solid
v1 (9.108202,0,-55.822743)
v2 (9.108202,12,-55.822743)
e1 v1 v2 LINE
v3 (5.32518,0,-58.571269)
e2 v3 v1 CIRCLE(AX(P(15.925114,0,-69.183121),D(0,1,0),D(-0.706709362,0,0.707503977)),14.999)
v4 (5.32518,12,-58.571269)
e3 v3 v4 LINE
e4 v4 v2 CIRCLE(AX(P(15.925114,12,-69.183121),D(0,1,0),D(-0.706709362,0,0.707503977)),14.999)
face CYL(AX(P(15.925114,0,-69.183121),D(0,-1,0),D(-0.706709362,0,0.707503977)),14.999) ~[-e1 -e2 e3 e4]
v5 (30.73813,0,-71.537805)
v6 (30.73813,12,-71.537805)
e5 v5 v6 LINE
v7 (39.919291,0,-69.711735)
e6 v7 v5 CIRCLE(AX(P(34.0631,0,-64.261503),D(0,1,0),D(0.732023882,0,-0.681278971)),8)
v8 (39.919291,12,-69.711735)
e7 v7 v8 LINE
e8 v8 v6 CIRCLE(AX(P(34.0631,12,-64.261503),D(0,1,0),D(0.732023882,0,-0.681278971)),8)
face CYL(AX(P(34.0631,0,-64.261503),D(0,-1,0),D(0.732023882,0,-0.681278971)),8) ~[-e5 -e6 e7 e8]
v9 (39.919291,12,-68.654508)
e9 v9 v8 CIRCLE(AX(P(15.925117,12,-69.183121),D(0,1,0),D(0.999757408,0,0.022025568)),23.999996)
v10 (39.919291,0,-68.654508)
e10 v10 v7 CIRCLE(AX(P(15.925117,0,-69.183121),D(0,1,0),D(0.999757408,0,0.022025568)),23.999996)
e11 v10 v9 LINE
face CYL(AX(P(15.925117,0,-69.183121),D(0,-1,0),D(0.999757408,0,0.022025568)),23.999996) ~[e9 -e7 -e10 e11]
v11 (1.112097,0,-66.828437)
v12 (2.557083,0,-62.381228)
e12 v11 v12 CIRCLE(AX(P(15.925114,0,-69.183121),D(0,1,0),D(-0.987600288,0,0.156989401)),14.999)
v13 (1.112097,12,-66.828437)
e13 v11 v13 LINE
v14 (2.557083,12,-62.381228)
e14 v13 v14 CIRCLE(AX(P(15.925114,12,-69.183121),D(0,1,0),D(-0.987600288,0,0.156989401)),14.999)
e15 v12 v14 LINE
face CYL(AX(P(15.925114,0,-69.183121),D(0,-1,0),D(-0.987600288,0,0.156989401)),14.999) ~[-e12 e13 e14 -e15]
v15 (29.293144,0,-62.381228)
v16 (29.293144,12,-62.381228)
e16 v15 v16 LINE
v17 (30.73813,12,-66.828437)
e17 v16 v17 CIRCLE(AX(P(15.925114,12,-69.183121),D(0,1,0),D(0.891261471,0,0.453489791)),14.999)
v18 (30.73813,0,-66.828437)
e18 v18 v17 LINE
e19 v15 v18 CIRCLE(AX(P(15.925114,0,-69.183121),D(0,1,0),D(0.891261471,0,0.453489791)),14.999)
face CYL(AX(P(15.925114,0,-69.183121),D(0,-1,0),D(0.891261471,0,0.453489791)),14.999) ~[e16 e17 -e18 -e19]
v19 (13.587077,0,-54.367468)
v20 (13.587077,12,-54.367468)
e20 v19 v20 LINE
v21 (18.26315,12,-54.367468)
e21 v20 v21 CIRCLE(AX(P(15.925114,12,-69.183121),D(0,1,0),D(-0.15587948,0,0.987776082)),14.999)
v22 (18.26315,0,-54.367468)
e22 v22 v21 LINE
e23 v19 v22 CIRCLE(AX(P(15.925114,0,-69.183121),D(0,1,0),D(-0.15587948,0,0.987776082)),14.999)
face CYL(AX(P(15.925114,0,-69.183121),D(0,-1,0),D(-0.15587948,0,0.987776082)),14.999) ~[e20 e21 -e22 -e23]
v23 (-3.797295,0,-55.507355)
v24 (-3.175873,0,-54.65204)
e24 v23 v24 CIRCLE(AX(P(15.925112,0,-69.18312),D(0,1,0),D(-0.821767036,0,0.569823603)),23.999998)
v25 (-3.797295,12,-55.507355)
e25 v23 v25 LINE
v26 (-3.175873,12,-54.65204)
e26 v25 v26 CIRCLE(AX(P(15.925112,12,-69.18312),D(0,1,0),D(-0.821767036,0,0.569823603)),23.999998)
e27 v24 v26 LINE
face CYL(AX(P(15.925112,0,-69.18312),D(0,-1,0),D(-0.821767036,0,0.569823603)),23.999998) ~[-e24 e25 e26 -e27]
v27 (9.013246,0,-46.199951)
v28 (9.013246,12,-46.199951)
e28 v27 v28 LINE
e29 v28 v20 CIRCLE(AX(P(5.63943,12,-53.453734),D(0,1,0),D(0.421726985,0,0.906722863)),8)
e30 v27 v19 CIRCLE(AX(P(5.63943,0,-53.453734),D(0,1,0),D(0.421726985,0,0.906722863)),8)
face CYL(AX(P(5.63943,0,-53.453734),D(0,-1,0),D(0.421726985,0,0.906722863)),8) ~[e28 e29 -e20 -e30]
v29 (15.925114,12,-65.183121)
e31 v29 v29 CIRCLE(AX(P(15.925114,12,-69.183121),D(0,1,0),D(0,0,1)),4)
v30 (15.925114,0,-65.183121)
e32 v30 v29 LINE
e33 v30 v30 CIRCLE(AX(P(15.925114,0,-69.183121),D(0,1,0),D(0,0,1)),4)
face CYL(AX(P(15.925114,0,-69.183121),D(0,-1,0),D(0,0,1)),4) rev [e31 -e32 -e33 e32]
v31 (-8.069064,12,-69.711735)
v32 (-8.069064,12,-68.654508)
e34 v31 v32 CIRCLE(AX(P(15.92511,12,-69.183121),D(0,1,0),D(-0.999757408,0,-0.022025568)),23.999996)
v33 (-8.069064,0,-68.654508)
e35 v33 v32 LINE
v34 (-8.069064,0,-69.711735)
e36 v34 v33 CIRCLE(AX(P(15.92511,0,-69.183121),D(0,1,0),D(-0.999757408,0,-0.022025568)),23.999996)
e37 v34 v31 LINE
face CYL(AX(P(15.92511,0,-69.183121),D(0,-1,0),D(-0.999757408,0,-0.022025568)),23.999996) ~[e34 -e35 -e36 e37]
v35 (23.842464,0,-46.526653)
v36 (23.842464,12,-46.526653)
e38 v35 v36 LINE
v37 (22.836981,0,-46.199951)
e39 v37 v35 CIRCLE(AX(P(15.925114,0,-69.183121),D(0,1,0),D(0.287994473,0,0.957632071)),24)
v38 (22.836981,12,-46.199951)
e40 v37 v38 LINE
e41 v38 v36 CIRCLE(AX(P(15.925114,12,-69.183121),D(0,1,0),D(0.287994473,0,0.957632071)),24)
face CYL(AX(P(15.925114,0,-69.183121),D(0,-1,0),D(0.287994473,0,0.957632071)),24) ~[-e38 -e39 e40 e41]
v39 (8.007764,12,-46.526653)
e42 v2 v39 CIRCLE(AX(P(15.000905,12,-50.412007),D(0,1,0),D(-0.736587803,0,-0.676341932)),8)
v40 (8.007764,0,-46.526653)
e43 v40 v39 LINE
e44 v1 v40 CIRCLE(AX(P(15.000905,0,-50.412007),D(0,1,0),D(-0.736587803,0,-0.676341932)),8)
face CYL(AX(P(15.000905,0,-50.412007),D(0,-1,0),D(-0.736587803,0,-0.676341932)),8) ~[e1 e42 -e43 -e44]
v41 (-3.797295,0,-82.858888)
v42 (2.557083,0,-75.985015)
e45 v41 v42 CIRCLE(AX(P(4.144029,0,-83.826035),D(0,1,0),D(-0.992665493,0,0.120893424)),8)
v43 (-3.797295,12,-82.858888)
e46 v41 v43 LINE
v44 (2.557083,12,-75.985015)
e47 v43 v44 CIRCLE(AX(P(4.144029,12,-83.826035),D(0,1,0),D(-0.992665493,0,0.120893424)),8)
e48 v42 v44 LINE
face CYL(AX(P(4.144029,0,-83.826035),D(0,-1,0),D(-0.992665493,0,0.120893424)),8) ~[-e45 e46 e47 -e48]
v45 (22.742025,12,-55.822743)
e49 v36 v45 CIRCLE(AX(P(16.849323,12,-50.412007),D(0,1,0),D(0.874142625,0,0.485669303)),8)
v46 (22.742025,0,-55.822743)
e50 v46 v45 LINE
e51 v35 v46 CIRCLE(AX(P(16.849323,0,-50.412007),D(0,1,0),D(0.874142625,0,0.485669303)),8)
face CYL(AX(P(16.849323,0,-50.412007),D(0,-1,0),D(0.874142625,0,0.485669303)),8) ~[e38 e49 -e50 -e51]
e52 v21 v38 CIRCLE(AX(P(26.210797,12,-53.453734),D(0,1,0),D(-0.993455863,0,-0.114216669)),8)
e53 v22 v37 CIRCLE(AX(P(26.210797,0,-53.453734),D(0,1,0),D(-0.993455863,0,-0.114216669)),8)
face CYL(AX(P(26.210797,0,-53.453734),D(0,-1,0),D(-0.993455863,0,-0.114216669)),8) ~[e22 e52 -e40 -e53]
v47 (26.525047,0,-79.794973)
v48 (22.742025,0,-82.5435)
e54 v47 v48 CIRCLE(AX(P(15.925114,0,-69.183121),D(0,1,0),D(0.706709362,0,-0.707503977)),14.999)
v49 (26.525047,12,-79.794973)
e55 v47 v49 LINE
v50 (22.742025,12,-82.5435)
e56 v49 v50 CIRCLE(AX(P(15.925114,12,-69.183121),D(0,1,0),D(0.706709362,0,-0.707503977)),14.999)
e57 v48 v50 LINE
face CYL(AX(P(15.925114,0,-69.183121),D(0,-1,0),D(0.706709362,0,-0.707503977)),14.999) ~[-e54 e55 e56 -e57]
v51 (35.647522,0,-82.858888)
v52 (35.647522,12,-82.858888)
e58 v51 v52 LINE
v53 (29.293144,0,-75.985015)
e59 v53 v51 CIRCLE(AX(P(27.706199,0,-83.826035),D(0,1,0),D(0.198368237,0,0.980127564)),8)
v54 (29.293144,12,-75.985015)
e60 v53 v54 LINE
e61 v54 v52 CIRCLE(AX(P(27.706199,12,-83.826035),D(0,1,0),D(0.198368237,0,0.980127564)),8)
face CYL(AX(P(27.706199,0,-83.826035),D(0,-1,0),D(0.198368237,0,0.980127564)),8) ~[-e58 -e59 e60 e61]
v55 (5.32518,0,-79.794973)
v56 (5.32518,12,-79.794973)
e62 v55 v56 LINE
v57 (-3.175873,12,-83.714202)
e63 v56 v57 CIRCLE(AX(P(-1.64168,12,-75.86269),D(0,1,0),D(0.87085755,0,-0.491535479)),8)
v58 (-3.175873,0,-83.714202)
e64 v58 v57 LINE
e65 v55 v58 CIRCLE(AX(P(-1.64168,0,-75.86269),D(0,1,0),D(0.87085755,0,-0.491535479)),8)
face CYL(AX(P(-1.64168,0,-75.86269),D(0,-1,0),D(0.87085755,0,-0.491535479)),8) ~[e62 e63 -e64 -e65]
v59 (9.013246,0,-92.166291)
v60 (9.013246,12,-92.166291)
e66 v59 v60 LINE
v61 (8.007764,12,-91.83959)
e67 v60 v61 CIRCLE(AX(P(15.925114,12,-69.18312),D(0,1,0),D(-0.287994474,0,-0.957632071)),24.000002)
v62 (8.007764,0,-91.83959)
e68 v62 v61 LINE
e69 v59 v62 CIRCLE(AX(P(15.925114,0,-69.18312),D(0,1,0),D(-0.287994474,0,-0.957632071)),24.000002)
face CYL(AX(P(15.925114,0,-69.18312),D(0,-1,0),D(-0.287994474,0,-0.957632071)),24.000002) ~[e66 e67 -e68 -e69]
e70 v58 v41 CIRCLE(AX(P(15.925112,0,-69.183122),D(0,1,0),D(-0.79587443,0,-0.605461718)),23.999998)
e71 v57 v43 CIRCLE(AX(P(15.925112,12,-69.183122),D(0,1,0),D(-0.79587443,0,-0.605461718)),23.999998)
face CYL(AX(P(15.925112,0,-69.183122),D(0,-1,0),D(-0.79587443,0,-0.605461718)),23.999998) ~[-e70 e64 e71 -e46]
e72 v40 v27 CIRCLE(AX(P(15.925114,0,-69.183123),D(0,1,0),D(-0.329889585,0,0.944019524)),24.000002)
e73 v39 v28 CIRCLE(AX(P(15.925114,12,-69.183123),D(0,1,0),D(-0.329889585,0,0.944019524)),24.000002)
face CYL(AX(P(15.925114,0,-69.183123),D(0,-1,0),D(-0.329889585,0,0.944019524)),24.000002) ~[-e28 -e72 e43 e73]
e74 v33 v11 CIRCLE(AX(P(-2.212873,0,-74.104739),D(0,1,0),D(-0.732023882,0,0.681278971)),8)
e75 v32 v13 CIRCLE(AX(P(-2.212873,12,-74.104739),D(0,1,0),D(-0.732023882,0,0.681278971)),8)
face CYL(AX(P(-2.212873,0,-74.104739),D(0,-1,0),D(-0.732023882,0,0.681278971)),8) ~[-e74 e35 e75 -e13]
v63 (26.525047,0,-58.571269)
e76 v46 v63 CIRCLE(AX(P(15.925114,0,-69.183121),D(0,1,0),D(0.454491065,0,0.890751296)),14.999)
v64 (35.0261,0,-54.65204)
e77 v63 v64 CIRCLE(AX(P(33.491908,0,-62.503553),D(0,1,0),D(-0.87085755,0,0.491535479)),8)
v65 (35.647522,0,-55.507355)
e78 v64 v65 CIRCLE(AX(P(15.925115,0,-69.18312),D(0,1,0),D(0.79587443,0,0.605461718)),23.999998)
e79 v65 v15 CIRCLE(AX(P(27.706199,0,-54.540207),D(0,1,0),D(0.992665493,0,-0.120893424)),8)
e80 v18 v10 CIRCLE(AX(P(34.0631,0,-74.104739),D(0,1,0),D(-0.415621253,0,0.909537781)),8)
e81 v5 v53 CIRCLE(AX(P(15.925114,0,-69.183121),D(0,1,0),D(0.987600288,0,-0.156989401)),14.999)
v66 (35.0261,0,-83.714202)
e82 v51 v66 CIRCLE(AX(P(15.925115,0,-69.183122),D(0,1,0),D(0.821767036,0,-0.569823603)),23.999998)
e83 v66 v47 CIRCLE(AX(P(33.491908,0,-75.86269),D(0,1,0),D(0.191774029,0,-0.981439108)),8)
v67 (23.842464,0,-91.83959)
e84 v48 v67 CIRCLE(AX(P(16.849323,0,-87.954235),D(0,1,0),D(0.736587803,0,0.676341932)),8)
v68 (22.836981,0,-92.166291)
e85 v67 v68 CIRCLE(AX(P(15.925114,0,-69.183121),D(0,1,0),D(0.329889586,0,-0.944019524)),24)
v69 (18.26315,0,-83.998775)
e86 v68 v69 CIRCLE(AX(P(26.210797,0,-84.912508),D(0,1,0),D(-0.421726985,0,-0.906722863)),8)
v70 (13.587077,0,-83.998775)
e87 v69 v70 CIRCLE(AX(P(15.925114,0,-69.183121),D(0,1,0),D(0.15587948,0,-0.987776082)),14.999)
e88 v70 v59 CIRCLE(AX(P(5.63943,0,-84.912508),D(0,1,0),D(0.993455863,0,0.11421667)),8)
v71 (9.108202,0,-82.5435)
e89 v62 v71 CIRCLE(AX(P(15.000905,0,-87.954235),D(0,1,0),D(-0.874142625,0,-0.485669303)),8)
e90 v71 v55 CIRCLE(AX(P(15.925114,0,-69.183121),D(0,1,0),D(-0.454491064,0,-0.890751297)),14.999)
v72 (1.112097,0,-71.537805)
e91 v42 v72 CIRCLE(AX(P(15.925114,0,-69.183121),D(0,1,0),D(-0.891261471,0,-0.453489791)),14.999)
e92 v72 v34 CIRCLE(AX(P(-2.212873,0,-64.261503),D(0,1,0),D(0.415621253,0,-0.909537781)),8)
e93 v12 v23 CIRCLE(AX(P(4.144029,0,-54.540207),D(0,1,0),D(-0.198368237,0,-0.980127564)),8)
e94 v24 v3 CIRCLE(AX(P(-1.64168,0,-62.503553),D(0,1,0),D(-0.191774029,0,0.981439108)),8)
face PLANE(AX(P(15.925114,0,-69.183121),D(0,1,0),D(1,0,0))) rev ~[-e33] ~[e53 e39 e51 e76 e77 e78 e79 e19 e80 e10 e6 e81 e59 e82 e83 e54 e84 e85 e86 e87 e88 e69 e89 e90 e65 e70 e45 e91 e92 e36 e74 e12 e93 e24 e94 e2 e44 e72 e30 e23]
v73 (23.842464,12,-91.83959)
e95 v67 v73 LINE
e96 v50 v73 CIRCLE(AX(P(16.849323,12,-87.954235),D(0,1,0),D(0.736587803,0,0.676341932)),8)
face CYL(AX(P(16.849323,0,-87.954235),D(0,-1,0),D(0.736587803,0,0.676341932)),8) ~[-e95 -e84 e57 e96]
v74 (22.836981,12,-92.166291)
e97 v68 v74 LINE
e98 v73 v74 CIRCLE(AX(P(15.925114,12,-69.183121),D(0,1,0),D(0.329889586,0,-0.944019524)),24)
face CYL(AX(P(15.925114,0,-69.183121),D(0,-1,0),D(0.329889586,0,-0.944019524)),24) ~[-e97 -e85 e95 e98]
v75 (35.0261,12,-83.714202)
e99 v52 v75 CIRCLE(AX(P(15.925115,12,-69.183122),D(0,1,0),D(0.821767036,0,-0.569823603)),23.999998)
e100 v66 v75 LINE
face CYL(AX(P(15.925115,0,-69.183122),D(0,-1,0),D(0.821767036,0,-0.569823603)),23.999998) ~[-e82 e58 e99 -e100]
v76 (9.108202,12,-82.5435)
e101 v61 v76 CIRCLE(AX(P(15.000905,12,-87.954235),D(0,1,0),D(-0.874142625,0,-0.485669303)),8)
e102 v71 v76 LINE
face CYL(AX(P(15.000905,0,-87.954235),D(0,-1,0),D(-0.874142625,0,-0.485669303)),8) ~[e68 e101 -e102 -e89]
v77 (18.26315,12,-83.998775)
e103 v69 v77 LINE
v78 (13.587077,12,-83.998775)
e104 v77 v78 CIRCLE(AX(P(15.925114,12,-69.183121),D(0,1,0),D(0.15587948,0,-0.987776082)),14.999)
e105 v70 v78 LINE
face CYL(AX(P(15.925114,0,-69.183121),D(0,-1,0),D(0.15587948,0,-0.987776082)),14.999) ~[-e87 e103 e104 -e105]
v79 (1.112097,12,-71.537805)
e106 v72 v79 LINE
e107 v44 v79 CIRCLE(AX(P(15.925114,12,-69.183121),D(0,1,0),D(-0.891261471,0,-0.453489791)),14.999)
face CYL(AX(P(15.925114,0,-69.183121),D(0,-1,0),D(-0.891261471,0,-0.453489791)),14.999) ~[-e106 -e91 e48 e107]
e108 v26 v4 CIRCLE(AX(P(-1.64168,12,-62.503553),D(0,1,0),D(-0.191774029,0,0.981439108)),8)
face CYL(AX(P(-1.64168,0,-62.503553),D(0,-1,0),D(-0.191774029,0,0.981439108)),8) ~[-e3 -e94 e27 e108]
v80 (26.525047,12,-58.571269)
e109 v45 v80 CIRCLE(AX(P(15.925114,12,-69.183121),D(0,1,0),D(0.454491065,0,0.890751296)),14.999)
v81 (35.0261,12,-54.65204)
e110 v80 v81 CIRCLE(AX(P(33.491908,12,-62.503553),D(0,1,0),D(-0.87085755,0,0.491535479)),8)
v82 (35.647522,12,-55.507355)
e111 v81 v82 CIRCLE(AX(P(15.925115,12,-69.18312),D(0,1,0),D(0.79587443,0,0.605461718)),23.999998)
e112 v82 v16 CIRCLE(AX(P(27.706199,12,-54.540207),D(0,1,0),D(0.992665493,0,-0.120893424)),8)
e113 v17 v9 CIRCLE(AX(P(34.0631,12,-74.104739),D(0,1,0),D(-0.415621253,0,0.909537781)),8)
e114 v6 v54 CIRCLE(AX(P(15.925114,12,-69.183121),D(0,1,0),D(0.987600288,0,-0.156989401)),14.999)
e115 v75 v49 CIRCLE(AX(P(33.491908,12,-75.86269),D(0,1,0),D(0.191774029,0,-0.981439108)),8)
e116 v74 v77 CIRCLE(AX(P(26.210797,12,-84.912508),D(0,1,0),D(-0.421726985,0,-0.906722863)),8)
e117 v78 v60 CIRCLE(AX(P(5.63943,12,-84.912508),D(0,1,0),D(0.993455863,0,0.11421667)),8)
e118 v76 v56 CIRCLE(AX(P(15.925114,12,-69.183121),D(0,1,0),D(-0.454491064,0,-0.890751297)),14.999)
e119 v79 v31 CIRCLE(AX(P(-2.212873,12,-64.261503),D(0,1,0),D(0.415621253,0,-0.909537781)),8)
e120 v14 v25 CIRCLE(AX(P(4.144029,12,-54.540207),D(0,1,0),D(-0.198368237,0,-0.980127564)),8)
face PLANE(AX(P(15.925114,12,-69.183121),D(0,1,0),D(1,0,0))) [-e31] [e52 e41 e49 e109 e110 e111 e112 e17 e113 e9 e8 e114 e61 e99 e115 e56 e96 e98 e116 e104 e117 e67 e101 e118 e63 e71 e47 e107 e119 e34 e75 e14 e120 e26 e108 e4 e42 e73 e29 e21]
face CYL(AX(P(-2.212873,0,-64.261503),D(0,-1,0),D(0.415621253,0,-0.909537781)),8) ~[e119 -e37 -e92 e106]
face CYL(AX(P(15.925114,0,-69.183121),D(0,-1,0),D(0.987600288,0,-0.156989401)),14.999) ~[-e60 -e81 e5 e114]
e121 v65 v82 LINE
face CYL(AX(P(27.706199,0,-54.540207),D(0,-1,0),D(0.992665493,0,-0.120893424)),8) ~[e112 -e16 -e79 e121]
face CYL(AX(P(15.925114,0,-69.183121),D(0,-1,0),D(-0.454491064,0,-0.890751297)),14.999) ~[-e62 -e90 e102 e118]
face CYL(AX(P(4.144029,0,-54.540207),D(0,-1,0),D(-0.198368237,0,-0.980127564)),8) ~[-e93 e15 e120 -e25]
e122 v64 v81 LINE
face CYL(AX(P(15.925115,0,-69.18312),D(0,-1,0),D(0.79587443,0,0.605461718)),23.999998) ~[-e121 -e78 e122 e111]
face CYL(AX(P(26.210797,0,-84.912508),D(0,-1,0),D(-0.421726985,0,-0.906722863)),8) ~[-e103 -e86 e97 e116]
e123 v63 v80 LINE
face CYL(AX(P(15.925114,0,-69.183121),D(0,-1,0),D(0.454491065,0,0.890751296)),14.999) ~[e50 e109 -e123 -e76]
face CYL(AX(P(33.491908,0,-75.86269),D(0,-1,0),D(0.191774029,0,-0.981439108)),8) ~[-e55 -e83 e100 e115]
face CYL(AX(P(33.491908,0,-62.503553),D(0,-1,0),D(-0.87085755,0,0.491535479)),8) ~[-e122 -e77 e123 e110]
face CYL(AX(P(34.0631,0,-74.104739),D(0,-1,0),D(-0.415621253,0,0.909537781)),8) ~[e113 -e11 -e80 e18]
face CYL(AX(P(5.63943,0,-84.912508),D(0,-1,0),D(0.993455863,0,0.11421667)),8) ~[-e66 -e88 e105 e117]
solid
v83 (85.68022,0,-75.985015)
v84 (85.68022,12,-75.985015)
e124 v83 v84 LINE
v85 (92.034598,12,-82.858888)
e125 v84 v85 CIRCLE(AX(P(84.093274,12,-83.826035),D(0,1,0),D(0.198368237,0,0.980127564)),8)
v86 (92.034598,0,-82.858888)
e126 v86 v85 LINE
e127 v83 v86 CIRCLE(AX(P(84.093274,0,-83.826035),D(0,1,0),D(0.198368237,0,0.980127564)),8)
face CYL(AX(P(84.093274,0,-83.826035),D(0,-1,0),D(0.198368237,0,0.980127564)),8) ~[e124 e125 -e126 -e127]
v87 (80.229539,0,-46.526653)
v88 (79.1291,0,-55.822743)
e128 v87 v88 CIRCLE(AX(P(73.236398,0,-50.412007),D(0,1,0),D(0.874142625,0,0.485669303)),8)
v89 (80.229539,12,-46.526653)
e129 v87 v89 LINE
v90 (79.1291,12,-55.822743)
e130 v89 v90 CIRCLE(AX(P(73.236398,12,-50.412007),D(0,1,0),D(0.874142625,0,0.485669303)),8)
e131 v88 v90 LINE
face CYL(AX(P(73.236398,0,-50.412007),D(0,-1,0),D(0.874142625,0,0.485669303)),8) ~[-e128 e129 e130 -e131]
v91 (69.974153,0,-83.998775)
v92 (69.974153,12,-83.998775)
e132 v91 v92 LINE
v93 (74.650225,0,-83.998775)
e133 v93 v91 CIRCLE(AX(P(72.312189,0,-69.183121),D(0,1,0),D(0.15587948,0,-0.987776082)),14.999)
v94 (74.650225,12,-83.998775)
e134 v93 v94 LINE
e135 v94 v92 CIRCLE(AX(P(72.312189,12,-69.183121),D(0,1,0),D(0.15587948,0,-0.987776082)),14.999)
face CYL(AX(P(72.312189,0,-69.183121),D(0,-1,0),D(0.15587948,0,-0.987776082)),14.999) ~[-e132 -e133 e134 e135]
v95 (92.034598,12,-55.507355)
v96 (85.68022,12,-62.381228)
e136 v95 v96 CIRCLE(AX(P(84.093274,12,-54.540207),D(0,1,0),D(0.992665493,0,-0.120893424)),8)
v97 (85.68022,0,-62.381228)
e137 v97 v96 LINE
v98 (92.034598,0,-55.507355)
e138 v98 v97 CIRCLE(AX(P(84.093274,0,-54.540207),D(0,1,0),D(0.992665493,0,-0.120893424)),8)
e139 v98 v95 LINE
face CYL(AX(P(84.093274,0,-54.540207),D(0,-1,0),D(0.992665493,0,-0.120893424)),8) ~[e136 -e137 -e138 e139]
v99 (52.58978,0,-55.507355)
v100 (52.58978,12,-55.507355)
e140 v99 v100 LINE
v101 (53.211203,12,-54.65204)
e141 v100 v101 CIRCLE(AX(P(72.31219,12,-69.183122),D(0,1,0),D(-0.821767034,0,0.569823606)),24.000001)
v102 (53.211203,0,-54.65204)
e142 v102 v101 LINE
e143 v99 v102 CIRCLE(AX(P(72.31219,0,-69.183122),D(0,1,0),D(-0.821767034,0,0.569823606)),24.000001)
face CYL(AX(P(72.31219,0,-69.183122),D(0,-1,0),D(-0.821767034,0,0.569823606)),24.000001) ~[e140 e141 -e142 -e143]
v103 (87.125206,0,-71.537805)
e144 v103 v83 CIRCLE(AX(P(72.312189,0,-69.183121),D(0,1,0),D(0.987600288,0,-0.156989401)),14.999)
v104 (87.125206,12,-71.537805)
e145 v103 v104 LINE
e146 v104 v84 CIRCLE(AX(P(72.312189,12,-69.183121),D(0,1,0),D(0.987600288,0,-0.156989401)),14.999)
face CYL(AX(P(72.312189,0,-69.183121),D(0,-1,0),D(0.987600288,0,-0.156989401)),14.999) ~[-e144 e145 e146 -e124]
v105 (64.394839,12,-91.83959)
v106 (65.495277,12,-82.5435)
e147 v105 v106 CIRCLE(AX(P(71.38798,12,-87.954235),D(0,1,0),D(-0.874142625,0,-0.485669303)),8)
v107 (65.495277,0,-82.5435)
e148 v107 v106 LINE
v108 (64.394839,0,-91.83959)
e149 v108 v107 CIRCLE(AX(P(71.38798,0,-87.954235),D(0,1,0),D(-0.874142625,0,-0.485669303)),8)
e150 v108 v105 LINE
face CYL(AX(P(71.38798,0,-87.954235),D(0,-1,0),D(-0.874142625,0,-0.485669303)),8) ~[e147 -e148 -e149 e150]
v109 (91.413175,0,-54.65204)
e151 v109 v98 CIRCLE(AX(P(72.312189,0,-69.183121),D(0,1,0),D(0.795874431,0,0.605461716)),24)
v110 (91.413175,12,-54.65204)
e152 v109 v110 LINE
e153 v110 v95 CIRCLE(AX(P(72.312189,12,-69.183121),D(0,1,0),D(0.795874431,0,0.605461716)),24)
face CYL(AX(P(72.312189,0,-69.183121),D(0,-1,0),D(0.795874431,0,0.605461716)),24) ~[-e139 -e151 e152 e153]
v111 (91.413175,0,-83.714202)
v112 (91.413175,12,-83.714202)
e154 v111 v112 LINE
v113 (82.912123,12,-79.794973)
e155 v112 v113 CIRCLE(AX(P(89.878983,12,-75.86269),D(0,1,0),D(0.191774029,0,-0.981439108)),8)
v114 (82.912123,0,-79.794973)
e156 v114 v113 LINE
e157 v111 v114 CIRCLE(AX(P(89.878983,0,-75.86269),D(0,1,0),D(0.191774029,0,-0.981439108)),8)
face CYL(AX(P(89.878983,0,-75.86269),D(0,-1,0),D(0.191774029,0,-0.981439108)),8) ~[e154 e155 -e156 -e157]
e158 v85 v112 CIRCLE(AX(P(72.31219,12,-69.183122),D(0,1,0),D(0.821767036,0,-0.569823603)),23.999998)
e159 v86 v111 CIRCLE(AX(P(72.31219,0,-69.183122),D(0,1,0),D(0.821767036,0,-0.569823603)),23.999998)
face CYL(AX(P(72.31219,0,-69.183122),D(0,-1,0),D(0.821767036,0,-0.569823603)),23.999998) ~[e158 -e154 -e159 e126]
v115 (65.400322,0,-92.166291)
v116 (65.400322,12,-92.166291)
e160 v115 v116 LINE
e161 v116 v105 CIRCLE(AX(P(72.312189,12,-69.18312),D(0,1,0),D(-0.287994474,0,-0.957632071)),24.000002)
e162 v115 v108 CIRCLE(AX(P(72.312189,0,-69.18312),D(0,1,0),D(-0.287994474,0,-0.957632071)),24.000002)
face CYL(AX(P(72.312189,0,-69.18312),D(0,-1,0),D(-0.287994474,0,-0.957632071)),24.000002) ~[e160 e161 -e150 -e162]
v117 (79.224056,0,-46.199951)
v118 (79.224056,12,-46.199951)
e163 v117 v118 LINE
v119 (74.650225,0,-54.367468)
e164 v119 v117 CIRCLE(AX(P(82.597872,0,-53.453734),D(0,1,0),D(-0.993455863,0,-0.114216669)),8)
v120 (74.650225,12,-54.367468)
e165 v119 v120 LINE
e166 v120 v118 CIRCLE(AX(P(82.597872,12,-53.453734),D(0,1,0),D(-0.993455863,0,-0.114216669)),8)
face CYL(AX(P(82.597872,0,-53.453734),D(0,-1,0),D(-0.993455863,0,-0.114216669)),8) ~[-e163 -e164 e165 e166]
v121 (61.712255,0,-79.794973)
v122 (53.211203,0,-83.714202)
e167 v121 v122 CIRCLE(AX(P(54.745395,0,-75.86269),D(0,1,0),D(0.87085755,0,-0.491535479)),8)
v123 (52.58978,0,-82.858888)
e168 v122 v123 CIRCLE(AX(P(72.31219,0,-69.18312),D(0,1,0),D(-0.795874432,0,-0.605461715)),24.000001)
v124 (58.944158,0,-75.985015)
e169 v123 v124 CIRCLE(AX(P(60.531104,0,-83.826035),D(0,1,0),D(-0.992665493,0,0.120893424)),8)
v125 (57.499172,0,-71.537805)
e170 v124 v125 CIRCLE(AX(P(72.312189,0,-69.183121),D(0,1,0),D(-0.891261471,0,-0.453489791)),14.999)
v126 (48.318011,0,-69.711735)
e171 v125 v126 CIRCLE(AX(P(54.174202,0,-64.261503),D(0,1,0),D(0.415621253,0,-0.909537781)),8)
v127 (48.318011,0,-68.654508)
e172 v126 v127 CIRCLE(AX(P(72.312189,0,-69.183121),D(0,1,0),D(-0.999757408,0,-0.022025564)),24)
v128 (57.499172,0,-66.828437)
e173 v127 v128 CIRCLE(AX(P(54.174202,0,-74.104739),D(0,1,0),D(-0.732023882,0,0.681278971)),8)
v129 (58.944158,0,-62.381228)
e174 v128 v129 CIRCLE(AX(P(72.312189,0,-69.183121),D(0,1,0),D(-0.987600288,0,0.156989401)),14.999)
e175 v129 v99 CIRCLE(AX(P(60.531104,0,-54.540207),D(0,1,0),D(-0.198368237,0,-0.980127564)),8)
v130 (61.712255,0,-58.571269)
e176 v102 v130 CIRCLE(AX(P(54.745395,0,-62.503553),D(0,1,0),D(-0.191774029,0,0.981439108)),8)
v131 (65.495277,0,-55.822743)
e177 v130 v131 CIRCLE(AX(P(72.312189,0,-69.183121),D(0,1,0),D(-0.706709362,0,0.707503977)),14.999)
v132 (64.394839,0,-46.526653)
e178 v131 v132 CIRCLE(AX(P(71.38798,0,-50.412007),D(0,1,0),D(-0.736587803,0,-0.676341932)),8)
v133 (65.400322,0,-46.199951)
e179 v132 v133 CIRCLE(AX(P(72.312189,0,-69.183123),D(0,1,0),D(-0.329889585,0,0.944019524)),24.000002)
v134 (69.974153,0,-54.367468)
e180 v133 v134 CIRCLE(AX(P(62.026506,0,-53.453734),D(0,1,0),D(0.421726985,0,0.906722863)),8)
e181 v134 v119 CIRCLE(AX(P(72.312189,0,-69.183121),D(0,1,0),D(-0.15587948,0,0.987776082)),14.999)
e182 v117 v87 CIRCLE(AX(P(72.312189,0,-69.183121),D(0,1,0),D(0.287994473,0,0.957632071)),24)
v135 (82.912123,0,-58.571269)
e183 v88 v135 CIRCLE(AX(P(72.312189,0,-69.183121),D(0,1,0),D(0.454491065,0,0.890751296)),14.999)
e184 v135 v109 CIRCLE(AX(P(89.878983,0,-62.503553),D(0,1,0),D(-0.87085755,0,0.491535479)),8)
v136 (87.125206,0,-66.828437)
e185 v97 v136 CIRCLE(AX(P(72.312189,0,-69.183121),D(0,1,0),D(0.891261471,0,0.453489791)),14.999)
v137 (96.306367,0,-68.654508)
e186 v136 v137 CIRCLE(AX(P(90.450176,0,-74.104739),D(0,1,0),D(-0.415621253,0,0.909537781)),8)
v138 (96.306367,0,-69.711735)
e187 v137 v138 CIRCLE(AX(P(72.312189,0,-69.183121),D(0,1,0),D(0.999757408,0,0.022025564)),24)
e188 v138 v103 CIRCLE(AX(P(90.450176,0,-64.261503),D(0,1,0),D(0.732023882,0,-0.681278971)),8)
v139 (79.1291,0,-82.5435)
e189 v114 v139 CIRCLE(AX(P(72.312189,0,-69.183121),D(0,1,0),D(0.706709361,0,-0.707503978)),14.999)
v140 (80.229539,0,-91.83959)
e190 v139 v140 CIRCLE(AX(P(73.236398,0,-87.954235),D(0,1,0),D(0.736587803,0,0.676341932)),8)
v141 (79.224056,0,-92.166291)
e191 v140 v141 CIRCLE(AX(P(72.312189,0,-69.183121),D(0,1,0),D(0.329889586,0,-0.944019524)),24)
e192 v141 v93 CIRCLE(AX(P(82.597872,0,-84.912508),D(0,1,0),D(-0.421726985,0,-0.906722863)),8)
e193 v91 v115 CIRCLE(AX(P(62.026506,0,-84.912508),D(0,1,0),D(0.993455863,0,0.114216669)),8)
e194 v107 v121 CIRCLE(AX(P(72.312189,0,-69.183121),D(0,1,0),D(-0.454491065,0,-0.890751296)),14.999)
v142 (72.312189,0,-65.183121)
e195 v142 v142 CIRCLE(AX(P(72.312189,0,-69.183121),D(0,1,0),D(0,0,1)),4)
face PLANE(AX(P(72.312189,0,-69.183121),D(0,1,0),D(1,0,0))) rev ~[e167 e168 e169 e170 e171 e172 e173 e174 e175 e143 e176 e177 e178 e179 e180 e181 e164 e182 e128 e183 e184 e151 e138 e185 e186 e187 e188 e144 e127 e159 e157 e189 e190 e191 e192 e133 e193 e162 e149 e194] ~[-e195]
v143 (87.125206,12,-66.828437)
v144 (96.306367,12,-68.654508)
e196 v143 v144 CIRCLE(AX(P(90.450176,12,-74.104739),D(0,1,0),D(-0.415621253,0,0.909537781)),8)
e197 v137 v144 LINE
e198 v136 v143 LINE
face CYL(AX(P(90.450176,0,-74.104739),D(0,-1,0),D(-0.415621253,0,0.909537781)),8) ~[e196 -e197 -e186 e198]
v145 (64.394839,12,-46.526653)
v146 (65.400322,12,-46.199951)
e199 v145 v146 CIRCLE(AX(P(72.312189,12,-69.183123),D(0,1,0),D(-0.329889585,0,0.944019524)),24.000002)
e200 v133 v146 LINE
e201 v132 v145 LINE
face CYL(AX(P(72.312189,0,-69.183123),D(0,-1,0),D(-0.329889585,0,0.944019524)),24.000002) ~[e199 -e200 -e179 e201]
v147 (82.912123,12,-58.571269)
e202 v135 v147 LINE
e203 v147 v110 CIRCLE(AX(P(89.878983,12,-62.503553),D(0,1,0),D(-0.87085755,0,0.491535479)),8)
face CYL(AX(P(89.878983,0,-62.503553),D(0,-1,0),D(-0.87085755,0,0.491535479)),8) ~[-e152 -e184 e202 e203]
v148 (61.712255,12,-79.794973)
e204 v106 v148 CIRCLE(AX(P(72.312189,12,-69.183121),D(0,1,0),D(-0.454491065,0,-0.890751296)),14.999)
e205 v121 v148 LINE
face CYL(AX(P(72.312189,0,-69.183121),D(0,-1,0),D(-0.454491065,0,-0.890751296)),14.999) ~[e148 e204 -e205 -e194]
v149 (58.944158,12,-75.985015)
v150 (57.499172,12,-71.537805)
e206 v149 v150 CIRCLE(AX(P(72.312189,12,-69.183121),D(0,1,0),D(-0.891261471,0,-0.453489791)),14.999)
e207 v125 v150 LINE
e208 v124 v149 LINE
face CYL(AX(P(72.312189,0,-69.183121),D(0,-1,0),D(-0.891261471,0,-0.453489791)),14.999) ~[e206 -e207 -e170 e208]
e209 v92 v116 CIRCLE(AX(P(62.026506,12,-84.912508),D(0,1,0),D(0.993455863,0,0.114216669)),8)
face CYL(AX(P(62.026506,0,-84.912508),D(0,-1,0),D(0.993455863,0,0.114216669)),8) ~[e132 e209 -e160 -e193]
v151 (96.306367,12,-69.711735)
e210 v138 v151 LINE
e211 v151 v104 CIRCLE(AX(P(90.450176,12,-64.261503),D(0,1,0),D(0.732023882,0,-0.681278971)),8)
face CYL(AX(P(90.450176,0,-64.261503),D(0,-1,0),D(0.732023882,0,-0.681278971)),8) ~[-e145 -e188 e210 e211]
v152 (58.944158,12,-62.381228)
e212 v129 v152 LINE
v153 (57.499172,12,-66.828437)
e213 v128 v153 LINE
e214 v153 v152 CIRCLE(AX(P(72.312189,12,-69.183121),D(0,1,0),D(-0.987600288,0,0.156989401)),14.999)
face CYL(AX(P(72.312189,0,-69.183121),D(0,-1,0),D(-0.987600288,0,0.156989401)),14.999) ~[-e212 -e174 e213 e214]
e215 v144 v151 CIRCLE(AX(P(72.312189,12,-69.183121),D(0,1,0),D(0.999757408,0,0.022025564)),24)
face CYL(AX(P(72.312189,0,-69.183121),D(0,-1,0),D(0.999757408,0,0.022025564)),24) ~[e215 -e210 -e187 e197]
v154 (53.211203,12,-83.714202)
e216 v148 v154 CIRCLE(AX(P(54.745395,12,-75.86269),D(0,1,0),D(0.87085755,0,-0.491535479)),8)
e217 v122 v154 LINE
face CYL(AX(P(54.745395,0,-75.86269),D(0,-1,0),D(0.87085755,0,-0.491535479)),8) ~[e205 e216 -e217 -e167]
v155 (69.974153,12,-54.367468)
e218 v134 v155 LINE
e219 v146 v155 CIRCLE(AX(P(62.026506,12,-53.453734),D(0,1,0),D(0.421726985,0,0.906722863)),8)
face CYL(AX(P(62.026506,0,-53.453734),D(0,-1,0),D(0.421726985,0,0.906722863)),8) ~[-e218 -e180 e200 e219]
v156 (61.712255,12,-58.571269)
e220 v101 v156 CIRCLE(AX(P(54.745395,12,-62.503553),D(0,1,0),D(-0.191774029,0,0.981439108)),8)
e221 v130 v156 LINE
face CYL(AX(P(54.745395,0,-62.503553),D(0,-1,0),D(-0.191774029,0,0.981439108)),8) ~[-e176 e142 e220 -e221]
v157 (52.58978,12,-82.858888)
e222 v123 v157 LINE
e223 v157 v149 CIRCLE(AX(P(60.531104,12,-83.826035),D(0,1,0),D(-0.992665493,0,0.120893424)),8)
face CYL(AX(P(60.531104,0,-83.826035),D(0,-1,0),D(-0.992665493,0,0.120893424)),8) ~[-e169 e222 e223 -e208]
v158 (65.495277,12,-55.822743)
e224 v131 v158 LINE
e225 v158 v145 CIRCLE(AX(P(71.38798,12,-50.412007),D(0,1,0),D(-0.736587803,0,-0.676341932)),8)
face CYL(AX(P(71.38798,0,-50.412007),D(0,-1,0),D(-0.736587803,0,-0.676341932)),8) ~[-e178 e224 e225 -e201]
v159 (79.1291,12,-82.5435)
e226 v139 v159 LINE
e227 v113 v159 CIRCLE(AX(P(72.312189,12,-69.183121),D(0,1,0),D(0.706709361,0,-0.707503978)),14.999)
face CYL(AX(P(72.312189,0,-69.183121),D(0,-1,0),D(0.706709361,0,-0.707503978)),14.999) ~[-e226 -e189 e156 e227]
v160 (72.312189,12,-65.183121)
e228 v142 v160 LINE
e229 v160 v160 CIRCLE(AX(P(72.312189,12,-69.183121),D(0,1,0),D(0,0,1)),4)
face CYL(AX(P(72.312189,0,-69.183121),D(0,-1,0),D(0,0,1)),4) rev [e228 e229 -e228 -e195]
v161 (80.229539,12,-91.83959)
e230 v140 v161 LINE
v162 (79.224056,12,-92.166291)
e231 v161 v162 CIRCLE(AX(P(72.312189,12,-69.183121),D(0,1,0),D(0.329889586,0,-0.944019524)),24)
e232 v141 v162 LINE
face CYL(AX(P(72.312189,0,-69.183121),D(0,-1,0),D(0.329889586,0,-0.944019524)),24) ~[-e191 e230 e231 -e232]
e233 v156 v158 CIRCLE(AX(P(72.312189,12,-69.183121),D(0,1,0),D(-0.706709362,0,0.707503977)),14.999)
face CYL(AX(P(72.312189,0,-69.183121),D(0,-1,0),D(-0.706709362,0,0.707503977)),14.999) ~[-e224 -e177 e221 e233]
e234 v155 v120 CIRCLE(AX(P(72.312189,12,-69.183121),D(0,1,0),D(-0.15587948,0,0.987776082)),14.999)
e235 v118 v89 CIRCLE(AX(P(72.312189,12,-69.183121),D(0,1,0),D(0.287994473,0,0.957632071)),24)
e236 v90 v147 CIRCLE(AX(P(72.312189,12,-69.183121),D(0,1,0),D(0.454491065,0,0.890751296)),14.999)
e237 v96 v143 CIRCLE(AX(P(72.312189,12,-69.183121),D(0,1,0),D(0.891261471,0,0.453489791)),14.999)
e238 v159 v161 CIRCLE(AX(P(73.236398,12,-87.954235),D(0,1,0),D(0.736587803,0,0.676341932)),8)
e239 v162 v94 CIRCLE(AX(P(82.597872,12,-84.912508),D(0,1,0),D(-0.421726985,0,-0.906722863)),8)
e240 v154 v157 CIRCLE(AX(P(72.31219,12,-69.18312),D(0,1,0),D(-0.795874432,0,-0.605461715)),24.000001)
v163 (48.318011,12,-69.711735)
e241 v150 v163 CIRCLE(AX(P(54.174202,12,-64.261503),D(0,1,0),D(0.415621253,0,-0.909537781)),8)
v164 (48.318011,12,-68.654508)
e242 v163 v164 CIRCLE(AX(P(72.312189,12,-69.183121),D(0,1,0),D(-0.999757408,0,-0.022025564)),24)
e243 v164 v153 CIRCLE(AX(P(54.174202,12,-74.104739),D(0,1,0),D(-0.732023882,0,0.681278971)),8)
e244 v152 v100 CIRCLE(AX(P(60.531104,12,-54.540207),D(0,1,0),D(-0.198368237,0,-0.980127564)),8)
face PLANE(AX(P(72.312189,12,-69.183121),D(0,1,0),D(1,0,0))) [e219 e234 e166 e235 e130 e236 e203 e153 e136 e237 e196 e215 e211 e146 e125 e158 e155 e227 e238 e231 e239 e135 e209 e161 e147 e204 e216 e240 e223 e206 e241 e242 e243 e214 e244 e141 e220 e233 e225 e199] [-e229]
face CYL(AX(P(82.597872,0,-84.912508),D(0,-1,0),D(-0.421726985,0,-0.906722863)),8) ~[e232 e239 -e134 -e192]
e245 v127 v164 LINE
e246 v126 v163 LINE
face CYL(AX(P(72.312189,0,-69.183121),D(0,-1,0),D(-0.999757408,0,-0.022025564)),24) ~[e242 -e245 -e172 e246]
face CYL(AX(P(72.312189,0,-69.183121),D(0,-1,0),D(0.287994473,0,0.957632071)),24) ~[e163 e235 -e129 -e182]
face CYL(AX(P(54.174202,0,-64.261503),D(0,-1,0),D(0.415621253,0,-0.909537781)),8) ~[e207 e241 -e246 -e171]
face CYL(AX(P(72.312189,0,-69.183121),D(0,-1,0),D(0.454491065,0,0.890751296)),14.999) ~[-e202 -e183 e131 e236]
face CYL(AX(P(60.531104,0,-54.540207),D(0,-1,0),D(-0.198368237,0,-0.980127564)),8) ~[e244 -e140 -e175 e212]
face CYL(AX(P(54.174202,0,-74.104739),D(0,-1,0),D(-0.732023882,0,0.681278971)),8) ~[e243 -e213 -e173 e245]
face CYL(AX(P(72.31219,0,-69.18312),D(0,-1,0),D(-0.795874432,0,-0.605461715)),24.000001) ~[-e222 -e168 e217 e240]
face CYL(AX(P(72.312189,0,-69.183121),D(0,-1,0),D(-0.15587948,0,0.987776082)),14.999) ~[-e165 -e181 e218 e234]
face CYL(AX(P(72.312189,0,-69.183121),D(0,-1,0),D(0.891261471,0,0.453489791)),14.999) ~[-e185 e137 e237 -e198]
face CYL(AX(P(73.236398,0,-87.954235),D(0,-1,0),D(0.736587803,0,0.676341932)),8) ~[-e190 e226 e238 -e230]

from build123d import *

# Parameters (mm, degrees)
SKETCH2_R             = 4
BOSS_EXTRUDE1_DEPTH   = 12
BOSS_EXTRUDE1_2_DEPTH = 12


with BuildPart() as part:
    # Sketch2 → Boss-Extrude1 (new body)
    with BuildSketch(Plane(origin=(0, 0, 0), x_dir=(1, 0, 0), z_dir=(0, 1, 0))):
        with BuildLine():
            ThreePointArc((39.91929142, 68.654507651), (39.925113633, 69.183121198), (39.91929142, 69.711734744))
            ThreePointArc((39.91929142, 69.711734744), (35.623678248, 72.107813998), (30.738130346, 71.537805219))
            ThreePointArc((30.738130346, 71.537805219), (30.19001032, 73.818067096), (29.293144433, 75.985014574))
            ThreePointArc((29.293144433, 75.985014574), (33.580678467, 78.395520792), (35.647522476, 82.8588877))
            ThreePointArc((35.647522476, 82.8588877), (35.341521498, 83.289967253), (35.026099982, 83.714202385))
            ThreePointArc((35.026099982, 83.714202385), (30.142495876, 83.127773149), (26.52504735, 79.794973354))
            ThreePointArc((26.52504735, 79.794973354), (24.741304632, 81.317567096), (22.742025117, 82.54349989))
            ThreePointArc((22.742025117, 82.54349989), (24.793853009, 87.013789659), (23.842463693, 91.839589767))
            ThreePointArc((23.842463693, 91.839589767), (23.341521498, 92.008477589), (22.836980977, 92.166290906))
            ThreePointArc((22.836980977, 92.166290906), (19.230756718, 88.821349216), (18.263149953, 83.998774648))
            ThreePointArc((18.263149953, 83.998774648), (15.925113633, 84.182121198), (13.587077312, 83.998774648))
            ThreePointArc((13.587077312, 83.998774648), (12.619470547, 88.821349216), (9.013246288, 92.166290906))
            ThreePointArc((9.013246288, 92.166290906), (8.508705768, 92.008477589), (8.007763572, 91.839589767))
            ThreePointArc((8.007763572, 91.839589767), (7.056374256, 87.013789659), (9.108202148, 82.54349989))
            ThreePointArc((9.108202148, 82.54349989), (7.108922633, 81.317567097), (5.325179915, 79.794973354))
            ThreePointArc((5.325179915, 79.794973354), (1.707731389, 83.127773149), (-3.175872717, 83.714202385))
            ThreePointArc((-3.175872717, 83.714202385), (-3.491294233, 83.289967253), (-3.797295211, 82.8588877))
            ThreePointArc((-3.797295211, 82.8588877), (-1.730451202, 78.395520792), (2.557082832, 75.985014575))
            ThreePointArc((2.557082832, 75.985014575), (1.660216945, 73.818067097), (1.112096919, 71.537805219))
            ThreePointArc((1.112096919, 71.537805219), (-3.773450983, 72.107813998), (-8.069064155, 69.711734744))
            ThreePointArc((-8.069064155, 69.711734744), (-8.074886368, 69.183121198), (-8.069064155, 68.654507651))
            ThreePointArc((-8.069064155, 68.654507651), (-3.773450983, 66.258428398), (1.112096919, 66.828437177))
            ThreePointArc((1.112096919, 66.828437177), (1.660216945, 64.548175299), (2.557082832, 62.381227821))
            ThreePointArc((2.557082832, 62.381227821), (-1.730451202, 59.970721604), (-3.797295211, 55.507354696))
            ThreePointArc((-3.797295211, 55.507354696), (-3.491294233, 55.076275143), (-3.175872717, 54.652040011))
            ThreePointArc((-3.175872717, 54.652040011), (1.707731389, 55.238469247), (5.325179915, 58.571269042))
            ThreePointArc((5.325179915, 58.571269042), (7.108922633, 57.048675299), (9.108202148, 55.822742505))
            ThreePointArc((9.108202148, 55.822742505), (7.056374256, 51.352452737), (8.007763572, 46.526652629))
            ThreePointArc((8.007763572, 46.526652629), (8.508705768, 46.357764807), (9.013246288, 46.19995149))
            ThreePointArc((9.013246288, 46.19995149), (12.619470547, 49.54489318), (13.587077312, 54.367467747))
            ThreePointArc((13.587077312, 54.367467747), (15.925113633, 54.184121198), (18.263149953, 54.367467747))
            ThreePointArc((18.263149953, 54.367467747), (19.230756718, 49.54489318), (22.836980977, 46.19995149))
            ThreePointArc((22.836980977, 46.19995149), (23.341521498, 46.357764807), (23.842463693, 46.526652629))
            ThreePointArc((23.842463693, 46.526652629), (24.793853009, 51.352452737), (22.742025117, 55.822742505))
            ThreePointArc((22.742025117, 55.822742505), (24.741304632, 57.048675299), (26.52504735, 58.571269042))
            ThreePointArc((26.52504735, 58.571269042), (30.142495876, 55.238469247), (35.026099982, 54.652040011))
            ThreePointArc((35.026099982, 54.652040011), (35.341521498, 55.076275143), (35.647522476, 55.507354696))
            ThreePointArc((35.647522476, 55.507354696), (33.580678467, 59.970721604), (29.293144433, 62.381227821))
            ThreePointArc((29.293144433, 62.381227821), (30.19001032, 64.548175299), (30.738130346, 66.828437177))
            ThreePointArc((30.738130346, 66.828437177), (35.623678248, 66.258428398), (39.91929142, 68.654507651))
        make_face()
        with Locations(Location((15.925113633, 69.183121198, 0), (0, 0, 270))):  # turned: the seam where the file's is
            Circle(SKETCH2_R, mode=Mode.SUBTRACT)
    extrude(amount=BOSS_EXTRUDE1_DEPTH)


with BuildPart() as body_2:
    # Sketch2 → Boss-Extrude1 2 (new body)
    with BuildSketch(Plane(origin=(0, 0, 0), x_dir=(1, 0, 0), z_dir=(0, 1, 0))):
        with BuildLine():
            ThreePointArc((96.30636676, 68.654507651), (96.312188972, 69.183121198), (96.30636676, 69.711734744))
            ThreePointArc((96.30636676, 69.711734744), (92.010753588, 72.107813998), (87.125205686, 71.537805219))
            ThreePointArc((87.125205686, 71.537805219), (86.57708566, 73.818067096), (85.680219773, 75.985014574))
            ThreePointArc((85.680219773, 75.985014574), (89.967753806, 78.395520792), (92.034597815, 82.8588877))
            ThreePointArc((92.034597815, 82.8588877), (91.728596837, 83.289967253), (91.413175321, 83.714202385))
            ThreePointArc((91.413175321, 83.714202385), (86.529571216, 83.127773149), (82.91212269, 79.794973354))
            ThreePointArc((82.91212269, 79.794973354), (81.128379971, 81.317567096), (79.129100457, 82.54349989))
            ThreePointArc((79.129100457, 82.54349989), (81.180928348, 87.013789659), (80.229539032, 91.839589767))
            ThreePointArc((80.229539032, 91.839589767), (79.728596837, 92.008477589), (79.224056316, 92.166290906))
            ThreePointArc((79.224056316, 92.166290906), (75.617832057, 88.821349216), (74.650225292, 83.998774648))
            ThreePointArc((74.650225292, 83.998774648), (72.312188972, 84.182121198), (69.974152652, 83.998774648))
            ThreePointArc((69.974152652, 83.998774648), (69.006545886, 88.821349216), (65.400321627, 92.166290906))
            ThreePointArc((65.400321627, 92.166290906), (64.895781107, 92.008477589), (64.394838911, 91.839589767))
            ThreePointArc((64.394838911, 91.839589767), (63.443449595, 87.013789659), (65.495277487, 82.54349989))
            ThreePointArc((65.495277487, 82.54349989), (63.495997973, 81.317567097), (61.712255254, 79.794973354))
            ThreePointArc((61.712255254, 79.794973354), (58.094806728, 83.127773149), (53.211202622, 83.714202385))
            ThreePointArc((53.211202622, 83.714202385), (52.895781107, 83.289967253), (52.589780128, 82.8588877))
            ThreePointArc((52.589780128, 82.8588877), (54.656624137, 78.395520792), (58.944158171, 75.985014575))
            ThreePointArc((58.944158171, 75.985014575), (58.047292284, 73.818067097), (57.499172258, 71.537805219))
            ThreePointArc((57.499172258, 71.537805219), (52.613624356, 72.107813998), (48.318011184, 69.711734744))
            ThreePointArc((48.318011184, 69.711734744), (48.312188972, 69.183121198), (48.318011184, 68.654507651))
            ThreePointArc((48.318011184, 68.654507651), (52.613624356, 66.258428398), (57.499172258, 66.828437177))
            ThreePointArc((57.499172258, 66.828437177), (58.047292284, 64.548175299), (58.944158171, 62.381227821))
            ThreePointArc((58.944158171, 62.381227821), (54.656624137, 59.970721604), (52.589780128, 55.507354696))
            ThreePointArc((52.589780128, 55.507354696), (52.895781107, 55.076275143), (53.211202622, 54.652040011))
            ThreePointArc((53.211202622, 54.652040011), (58.094806728, 55.238469247), (61.712255254, 58.571269042))
            ThreePointArc((61.712255254, 58.571269042), (63.495997973, 57.048675299), (65.495277487, 55.822742505))
            ThreePointArc((65.495277487, 55.822742505), (63.443449595, 51.352452737), (64.394838911, 46.526652629))
            ThreePointArc((64.394838911, 46.526652629), (64.895781107, 46.357764807), (65.400321627, 46.19995149))
            ThreePointArc((65.400321627, 46.19995149), (69.006545886, 49.54489318), (69.974152652, 54.367467747))
            ThreePointArc((69.974152652, 54.367467747), (72.312188972, 54.184121198), (74.650225292, 54.367467747))
            ThreePointArc((74.650225292, 54.367467747), (75.617832058, 49.54489318), (79.224056316, 46.19995149))
            ThreePointArc((79.224056316, 46.19995149), (79.728596837, 46.357764807), (80.229539032, 46.526652629))
            ThreePointArc((80.229539032, 46.526652629), (81.180928348, 51.352452737), (79.129100457, 55.822742505))
            ThreePointArc((79.129100457, 55.822742505), (81.128379971, 57.048675299), (82.91212269, 58.571269042))
            ThreePointArc((82.91212269, 58.571269042), (86.529571216, 55.238469247), (91.413175322, 54.652040011))
            ThreePointArc((91.413175322, 54.652040011), (91.728596837, 55.076275143), (92.034597815, 55.507354696))
            ThreePointArc((92.034597815, 55.507354696), (89.967753806, 59.970721604), (85.680219773, 62.381227821))
            ThreePointArc((85.680219773, 62.381227821), (86.57708566, 64.548175299), (87.125205686, 66.828437177))
            ThreePointArc((87.125205686, 66.828437177), (92.010753588, 66.258428398), (96.30636676, 68.654507651))
        make_face()
        with Locations(Location((72.312188972, 69.183121198, 0), (0, 0, 270))):  # turned: the seam where the file's is
            Circle(SKETCH2_R, mode=Mode.SUBTRACT)
    extrude(amount=BOSS_EXTRUDE1_2_DEPTH)


solid = Compound([part.part, body_2.part])
